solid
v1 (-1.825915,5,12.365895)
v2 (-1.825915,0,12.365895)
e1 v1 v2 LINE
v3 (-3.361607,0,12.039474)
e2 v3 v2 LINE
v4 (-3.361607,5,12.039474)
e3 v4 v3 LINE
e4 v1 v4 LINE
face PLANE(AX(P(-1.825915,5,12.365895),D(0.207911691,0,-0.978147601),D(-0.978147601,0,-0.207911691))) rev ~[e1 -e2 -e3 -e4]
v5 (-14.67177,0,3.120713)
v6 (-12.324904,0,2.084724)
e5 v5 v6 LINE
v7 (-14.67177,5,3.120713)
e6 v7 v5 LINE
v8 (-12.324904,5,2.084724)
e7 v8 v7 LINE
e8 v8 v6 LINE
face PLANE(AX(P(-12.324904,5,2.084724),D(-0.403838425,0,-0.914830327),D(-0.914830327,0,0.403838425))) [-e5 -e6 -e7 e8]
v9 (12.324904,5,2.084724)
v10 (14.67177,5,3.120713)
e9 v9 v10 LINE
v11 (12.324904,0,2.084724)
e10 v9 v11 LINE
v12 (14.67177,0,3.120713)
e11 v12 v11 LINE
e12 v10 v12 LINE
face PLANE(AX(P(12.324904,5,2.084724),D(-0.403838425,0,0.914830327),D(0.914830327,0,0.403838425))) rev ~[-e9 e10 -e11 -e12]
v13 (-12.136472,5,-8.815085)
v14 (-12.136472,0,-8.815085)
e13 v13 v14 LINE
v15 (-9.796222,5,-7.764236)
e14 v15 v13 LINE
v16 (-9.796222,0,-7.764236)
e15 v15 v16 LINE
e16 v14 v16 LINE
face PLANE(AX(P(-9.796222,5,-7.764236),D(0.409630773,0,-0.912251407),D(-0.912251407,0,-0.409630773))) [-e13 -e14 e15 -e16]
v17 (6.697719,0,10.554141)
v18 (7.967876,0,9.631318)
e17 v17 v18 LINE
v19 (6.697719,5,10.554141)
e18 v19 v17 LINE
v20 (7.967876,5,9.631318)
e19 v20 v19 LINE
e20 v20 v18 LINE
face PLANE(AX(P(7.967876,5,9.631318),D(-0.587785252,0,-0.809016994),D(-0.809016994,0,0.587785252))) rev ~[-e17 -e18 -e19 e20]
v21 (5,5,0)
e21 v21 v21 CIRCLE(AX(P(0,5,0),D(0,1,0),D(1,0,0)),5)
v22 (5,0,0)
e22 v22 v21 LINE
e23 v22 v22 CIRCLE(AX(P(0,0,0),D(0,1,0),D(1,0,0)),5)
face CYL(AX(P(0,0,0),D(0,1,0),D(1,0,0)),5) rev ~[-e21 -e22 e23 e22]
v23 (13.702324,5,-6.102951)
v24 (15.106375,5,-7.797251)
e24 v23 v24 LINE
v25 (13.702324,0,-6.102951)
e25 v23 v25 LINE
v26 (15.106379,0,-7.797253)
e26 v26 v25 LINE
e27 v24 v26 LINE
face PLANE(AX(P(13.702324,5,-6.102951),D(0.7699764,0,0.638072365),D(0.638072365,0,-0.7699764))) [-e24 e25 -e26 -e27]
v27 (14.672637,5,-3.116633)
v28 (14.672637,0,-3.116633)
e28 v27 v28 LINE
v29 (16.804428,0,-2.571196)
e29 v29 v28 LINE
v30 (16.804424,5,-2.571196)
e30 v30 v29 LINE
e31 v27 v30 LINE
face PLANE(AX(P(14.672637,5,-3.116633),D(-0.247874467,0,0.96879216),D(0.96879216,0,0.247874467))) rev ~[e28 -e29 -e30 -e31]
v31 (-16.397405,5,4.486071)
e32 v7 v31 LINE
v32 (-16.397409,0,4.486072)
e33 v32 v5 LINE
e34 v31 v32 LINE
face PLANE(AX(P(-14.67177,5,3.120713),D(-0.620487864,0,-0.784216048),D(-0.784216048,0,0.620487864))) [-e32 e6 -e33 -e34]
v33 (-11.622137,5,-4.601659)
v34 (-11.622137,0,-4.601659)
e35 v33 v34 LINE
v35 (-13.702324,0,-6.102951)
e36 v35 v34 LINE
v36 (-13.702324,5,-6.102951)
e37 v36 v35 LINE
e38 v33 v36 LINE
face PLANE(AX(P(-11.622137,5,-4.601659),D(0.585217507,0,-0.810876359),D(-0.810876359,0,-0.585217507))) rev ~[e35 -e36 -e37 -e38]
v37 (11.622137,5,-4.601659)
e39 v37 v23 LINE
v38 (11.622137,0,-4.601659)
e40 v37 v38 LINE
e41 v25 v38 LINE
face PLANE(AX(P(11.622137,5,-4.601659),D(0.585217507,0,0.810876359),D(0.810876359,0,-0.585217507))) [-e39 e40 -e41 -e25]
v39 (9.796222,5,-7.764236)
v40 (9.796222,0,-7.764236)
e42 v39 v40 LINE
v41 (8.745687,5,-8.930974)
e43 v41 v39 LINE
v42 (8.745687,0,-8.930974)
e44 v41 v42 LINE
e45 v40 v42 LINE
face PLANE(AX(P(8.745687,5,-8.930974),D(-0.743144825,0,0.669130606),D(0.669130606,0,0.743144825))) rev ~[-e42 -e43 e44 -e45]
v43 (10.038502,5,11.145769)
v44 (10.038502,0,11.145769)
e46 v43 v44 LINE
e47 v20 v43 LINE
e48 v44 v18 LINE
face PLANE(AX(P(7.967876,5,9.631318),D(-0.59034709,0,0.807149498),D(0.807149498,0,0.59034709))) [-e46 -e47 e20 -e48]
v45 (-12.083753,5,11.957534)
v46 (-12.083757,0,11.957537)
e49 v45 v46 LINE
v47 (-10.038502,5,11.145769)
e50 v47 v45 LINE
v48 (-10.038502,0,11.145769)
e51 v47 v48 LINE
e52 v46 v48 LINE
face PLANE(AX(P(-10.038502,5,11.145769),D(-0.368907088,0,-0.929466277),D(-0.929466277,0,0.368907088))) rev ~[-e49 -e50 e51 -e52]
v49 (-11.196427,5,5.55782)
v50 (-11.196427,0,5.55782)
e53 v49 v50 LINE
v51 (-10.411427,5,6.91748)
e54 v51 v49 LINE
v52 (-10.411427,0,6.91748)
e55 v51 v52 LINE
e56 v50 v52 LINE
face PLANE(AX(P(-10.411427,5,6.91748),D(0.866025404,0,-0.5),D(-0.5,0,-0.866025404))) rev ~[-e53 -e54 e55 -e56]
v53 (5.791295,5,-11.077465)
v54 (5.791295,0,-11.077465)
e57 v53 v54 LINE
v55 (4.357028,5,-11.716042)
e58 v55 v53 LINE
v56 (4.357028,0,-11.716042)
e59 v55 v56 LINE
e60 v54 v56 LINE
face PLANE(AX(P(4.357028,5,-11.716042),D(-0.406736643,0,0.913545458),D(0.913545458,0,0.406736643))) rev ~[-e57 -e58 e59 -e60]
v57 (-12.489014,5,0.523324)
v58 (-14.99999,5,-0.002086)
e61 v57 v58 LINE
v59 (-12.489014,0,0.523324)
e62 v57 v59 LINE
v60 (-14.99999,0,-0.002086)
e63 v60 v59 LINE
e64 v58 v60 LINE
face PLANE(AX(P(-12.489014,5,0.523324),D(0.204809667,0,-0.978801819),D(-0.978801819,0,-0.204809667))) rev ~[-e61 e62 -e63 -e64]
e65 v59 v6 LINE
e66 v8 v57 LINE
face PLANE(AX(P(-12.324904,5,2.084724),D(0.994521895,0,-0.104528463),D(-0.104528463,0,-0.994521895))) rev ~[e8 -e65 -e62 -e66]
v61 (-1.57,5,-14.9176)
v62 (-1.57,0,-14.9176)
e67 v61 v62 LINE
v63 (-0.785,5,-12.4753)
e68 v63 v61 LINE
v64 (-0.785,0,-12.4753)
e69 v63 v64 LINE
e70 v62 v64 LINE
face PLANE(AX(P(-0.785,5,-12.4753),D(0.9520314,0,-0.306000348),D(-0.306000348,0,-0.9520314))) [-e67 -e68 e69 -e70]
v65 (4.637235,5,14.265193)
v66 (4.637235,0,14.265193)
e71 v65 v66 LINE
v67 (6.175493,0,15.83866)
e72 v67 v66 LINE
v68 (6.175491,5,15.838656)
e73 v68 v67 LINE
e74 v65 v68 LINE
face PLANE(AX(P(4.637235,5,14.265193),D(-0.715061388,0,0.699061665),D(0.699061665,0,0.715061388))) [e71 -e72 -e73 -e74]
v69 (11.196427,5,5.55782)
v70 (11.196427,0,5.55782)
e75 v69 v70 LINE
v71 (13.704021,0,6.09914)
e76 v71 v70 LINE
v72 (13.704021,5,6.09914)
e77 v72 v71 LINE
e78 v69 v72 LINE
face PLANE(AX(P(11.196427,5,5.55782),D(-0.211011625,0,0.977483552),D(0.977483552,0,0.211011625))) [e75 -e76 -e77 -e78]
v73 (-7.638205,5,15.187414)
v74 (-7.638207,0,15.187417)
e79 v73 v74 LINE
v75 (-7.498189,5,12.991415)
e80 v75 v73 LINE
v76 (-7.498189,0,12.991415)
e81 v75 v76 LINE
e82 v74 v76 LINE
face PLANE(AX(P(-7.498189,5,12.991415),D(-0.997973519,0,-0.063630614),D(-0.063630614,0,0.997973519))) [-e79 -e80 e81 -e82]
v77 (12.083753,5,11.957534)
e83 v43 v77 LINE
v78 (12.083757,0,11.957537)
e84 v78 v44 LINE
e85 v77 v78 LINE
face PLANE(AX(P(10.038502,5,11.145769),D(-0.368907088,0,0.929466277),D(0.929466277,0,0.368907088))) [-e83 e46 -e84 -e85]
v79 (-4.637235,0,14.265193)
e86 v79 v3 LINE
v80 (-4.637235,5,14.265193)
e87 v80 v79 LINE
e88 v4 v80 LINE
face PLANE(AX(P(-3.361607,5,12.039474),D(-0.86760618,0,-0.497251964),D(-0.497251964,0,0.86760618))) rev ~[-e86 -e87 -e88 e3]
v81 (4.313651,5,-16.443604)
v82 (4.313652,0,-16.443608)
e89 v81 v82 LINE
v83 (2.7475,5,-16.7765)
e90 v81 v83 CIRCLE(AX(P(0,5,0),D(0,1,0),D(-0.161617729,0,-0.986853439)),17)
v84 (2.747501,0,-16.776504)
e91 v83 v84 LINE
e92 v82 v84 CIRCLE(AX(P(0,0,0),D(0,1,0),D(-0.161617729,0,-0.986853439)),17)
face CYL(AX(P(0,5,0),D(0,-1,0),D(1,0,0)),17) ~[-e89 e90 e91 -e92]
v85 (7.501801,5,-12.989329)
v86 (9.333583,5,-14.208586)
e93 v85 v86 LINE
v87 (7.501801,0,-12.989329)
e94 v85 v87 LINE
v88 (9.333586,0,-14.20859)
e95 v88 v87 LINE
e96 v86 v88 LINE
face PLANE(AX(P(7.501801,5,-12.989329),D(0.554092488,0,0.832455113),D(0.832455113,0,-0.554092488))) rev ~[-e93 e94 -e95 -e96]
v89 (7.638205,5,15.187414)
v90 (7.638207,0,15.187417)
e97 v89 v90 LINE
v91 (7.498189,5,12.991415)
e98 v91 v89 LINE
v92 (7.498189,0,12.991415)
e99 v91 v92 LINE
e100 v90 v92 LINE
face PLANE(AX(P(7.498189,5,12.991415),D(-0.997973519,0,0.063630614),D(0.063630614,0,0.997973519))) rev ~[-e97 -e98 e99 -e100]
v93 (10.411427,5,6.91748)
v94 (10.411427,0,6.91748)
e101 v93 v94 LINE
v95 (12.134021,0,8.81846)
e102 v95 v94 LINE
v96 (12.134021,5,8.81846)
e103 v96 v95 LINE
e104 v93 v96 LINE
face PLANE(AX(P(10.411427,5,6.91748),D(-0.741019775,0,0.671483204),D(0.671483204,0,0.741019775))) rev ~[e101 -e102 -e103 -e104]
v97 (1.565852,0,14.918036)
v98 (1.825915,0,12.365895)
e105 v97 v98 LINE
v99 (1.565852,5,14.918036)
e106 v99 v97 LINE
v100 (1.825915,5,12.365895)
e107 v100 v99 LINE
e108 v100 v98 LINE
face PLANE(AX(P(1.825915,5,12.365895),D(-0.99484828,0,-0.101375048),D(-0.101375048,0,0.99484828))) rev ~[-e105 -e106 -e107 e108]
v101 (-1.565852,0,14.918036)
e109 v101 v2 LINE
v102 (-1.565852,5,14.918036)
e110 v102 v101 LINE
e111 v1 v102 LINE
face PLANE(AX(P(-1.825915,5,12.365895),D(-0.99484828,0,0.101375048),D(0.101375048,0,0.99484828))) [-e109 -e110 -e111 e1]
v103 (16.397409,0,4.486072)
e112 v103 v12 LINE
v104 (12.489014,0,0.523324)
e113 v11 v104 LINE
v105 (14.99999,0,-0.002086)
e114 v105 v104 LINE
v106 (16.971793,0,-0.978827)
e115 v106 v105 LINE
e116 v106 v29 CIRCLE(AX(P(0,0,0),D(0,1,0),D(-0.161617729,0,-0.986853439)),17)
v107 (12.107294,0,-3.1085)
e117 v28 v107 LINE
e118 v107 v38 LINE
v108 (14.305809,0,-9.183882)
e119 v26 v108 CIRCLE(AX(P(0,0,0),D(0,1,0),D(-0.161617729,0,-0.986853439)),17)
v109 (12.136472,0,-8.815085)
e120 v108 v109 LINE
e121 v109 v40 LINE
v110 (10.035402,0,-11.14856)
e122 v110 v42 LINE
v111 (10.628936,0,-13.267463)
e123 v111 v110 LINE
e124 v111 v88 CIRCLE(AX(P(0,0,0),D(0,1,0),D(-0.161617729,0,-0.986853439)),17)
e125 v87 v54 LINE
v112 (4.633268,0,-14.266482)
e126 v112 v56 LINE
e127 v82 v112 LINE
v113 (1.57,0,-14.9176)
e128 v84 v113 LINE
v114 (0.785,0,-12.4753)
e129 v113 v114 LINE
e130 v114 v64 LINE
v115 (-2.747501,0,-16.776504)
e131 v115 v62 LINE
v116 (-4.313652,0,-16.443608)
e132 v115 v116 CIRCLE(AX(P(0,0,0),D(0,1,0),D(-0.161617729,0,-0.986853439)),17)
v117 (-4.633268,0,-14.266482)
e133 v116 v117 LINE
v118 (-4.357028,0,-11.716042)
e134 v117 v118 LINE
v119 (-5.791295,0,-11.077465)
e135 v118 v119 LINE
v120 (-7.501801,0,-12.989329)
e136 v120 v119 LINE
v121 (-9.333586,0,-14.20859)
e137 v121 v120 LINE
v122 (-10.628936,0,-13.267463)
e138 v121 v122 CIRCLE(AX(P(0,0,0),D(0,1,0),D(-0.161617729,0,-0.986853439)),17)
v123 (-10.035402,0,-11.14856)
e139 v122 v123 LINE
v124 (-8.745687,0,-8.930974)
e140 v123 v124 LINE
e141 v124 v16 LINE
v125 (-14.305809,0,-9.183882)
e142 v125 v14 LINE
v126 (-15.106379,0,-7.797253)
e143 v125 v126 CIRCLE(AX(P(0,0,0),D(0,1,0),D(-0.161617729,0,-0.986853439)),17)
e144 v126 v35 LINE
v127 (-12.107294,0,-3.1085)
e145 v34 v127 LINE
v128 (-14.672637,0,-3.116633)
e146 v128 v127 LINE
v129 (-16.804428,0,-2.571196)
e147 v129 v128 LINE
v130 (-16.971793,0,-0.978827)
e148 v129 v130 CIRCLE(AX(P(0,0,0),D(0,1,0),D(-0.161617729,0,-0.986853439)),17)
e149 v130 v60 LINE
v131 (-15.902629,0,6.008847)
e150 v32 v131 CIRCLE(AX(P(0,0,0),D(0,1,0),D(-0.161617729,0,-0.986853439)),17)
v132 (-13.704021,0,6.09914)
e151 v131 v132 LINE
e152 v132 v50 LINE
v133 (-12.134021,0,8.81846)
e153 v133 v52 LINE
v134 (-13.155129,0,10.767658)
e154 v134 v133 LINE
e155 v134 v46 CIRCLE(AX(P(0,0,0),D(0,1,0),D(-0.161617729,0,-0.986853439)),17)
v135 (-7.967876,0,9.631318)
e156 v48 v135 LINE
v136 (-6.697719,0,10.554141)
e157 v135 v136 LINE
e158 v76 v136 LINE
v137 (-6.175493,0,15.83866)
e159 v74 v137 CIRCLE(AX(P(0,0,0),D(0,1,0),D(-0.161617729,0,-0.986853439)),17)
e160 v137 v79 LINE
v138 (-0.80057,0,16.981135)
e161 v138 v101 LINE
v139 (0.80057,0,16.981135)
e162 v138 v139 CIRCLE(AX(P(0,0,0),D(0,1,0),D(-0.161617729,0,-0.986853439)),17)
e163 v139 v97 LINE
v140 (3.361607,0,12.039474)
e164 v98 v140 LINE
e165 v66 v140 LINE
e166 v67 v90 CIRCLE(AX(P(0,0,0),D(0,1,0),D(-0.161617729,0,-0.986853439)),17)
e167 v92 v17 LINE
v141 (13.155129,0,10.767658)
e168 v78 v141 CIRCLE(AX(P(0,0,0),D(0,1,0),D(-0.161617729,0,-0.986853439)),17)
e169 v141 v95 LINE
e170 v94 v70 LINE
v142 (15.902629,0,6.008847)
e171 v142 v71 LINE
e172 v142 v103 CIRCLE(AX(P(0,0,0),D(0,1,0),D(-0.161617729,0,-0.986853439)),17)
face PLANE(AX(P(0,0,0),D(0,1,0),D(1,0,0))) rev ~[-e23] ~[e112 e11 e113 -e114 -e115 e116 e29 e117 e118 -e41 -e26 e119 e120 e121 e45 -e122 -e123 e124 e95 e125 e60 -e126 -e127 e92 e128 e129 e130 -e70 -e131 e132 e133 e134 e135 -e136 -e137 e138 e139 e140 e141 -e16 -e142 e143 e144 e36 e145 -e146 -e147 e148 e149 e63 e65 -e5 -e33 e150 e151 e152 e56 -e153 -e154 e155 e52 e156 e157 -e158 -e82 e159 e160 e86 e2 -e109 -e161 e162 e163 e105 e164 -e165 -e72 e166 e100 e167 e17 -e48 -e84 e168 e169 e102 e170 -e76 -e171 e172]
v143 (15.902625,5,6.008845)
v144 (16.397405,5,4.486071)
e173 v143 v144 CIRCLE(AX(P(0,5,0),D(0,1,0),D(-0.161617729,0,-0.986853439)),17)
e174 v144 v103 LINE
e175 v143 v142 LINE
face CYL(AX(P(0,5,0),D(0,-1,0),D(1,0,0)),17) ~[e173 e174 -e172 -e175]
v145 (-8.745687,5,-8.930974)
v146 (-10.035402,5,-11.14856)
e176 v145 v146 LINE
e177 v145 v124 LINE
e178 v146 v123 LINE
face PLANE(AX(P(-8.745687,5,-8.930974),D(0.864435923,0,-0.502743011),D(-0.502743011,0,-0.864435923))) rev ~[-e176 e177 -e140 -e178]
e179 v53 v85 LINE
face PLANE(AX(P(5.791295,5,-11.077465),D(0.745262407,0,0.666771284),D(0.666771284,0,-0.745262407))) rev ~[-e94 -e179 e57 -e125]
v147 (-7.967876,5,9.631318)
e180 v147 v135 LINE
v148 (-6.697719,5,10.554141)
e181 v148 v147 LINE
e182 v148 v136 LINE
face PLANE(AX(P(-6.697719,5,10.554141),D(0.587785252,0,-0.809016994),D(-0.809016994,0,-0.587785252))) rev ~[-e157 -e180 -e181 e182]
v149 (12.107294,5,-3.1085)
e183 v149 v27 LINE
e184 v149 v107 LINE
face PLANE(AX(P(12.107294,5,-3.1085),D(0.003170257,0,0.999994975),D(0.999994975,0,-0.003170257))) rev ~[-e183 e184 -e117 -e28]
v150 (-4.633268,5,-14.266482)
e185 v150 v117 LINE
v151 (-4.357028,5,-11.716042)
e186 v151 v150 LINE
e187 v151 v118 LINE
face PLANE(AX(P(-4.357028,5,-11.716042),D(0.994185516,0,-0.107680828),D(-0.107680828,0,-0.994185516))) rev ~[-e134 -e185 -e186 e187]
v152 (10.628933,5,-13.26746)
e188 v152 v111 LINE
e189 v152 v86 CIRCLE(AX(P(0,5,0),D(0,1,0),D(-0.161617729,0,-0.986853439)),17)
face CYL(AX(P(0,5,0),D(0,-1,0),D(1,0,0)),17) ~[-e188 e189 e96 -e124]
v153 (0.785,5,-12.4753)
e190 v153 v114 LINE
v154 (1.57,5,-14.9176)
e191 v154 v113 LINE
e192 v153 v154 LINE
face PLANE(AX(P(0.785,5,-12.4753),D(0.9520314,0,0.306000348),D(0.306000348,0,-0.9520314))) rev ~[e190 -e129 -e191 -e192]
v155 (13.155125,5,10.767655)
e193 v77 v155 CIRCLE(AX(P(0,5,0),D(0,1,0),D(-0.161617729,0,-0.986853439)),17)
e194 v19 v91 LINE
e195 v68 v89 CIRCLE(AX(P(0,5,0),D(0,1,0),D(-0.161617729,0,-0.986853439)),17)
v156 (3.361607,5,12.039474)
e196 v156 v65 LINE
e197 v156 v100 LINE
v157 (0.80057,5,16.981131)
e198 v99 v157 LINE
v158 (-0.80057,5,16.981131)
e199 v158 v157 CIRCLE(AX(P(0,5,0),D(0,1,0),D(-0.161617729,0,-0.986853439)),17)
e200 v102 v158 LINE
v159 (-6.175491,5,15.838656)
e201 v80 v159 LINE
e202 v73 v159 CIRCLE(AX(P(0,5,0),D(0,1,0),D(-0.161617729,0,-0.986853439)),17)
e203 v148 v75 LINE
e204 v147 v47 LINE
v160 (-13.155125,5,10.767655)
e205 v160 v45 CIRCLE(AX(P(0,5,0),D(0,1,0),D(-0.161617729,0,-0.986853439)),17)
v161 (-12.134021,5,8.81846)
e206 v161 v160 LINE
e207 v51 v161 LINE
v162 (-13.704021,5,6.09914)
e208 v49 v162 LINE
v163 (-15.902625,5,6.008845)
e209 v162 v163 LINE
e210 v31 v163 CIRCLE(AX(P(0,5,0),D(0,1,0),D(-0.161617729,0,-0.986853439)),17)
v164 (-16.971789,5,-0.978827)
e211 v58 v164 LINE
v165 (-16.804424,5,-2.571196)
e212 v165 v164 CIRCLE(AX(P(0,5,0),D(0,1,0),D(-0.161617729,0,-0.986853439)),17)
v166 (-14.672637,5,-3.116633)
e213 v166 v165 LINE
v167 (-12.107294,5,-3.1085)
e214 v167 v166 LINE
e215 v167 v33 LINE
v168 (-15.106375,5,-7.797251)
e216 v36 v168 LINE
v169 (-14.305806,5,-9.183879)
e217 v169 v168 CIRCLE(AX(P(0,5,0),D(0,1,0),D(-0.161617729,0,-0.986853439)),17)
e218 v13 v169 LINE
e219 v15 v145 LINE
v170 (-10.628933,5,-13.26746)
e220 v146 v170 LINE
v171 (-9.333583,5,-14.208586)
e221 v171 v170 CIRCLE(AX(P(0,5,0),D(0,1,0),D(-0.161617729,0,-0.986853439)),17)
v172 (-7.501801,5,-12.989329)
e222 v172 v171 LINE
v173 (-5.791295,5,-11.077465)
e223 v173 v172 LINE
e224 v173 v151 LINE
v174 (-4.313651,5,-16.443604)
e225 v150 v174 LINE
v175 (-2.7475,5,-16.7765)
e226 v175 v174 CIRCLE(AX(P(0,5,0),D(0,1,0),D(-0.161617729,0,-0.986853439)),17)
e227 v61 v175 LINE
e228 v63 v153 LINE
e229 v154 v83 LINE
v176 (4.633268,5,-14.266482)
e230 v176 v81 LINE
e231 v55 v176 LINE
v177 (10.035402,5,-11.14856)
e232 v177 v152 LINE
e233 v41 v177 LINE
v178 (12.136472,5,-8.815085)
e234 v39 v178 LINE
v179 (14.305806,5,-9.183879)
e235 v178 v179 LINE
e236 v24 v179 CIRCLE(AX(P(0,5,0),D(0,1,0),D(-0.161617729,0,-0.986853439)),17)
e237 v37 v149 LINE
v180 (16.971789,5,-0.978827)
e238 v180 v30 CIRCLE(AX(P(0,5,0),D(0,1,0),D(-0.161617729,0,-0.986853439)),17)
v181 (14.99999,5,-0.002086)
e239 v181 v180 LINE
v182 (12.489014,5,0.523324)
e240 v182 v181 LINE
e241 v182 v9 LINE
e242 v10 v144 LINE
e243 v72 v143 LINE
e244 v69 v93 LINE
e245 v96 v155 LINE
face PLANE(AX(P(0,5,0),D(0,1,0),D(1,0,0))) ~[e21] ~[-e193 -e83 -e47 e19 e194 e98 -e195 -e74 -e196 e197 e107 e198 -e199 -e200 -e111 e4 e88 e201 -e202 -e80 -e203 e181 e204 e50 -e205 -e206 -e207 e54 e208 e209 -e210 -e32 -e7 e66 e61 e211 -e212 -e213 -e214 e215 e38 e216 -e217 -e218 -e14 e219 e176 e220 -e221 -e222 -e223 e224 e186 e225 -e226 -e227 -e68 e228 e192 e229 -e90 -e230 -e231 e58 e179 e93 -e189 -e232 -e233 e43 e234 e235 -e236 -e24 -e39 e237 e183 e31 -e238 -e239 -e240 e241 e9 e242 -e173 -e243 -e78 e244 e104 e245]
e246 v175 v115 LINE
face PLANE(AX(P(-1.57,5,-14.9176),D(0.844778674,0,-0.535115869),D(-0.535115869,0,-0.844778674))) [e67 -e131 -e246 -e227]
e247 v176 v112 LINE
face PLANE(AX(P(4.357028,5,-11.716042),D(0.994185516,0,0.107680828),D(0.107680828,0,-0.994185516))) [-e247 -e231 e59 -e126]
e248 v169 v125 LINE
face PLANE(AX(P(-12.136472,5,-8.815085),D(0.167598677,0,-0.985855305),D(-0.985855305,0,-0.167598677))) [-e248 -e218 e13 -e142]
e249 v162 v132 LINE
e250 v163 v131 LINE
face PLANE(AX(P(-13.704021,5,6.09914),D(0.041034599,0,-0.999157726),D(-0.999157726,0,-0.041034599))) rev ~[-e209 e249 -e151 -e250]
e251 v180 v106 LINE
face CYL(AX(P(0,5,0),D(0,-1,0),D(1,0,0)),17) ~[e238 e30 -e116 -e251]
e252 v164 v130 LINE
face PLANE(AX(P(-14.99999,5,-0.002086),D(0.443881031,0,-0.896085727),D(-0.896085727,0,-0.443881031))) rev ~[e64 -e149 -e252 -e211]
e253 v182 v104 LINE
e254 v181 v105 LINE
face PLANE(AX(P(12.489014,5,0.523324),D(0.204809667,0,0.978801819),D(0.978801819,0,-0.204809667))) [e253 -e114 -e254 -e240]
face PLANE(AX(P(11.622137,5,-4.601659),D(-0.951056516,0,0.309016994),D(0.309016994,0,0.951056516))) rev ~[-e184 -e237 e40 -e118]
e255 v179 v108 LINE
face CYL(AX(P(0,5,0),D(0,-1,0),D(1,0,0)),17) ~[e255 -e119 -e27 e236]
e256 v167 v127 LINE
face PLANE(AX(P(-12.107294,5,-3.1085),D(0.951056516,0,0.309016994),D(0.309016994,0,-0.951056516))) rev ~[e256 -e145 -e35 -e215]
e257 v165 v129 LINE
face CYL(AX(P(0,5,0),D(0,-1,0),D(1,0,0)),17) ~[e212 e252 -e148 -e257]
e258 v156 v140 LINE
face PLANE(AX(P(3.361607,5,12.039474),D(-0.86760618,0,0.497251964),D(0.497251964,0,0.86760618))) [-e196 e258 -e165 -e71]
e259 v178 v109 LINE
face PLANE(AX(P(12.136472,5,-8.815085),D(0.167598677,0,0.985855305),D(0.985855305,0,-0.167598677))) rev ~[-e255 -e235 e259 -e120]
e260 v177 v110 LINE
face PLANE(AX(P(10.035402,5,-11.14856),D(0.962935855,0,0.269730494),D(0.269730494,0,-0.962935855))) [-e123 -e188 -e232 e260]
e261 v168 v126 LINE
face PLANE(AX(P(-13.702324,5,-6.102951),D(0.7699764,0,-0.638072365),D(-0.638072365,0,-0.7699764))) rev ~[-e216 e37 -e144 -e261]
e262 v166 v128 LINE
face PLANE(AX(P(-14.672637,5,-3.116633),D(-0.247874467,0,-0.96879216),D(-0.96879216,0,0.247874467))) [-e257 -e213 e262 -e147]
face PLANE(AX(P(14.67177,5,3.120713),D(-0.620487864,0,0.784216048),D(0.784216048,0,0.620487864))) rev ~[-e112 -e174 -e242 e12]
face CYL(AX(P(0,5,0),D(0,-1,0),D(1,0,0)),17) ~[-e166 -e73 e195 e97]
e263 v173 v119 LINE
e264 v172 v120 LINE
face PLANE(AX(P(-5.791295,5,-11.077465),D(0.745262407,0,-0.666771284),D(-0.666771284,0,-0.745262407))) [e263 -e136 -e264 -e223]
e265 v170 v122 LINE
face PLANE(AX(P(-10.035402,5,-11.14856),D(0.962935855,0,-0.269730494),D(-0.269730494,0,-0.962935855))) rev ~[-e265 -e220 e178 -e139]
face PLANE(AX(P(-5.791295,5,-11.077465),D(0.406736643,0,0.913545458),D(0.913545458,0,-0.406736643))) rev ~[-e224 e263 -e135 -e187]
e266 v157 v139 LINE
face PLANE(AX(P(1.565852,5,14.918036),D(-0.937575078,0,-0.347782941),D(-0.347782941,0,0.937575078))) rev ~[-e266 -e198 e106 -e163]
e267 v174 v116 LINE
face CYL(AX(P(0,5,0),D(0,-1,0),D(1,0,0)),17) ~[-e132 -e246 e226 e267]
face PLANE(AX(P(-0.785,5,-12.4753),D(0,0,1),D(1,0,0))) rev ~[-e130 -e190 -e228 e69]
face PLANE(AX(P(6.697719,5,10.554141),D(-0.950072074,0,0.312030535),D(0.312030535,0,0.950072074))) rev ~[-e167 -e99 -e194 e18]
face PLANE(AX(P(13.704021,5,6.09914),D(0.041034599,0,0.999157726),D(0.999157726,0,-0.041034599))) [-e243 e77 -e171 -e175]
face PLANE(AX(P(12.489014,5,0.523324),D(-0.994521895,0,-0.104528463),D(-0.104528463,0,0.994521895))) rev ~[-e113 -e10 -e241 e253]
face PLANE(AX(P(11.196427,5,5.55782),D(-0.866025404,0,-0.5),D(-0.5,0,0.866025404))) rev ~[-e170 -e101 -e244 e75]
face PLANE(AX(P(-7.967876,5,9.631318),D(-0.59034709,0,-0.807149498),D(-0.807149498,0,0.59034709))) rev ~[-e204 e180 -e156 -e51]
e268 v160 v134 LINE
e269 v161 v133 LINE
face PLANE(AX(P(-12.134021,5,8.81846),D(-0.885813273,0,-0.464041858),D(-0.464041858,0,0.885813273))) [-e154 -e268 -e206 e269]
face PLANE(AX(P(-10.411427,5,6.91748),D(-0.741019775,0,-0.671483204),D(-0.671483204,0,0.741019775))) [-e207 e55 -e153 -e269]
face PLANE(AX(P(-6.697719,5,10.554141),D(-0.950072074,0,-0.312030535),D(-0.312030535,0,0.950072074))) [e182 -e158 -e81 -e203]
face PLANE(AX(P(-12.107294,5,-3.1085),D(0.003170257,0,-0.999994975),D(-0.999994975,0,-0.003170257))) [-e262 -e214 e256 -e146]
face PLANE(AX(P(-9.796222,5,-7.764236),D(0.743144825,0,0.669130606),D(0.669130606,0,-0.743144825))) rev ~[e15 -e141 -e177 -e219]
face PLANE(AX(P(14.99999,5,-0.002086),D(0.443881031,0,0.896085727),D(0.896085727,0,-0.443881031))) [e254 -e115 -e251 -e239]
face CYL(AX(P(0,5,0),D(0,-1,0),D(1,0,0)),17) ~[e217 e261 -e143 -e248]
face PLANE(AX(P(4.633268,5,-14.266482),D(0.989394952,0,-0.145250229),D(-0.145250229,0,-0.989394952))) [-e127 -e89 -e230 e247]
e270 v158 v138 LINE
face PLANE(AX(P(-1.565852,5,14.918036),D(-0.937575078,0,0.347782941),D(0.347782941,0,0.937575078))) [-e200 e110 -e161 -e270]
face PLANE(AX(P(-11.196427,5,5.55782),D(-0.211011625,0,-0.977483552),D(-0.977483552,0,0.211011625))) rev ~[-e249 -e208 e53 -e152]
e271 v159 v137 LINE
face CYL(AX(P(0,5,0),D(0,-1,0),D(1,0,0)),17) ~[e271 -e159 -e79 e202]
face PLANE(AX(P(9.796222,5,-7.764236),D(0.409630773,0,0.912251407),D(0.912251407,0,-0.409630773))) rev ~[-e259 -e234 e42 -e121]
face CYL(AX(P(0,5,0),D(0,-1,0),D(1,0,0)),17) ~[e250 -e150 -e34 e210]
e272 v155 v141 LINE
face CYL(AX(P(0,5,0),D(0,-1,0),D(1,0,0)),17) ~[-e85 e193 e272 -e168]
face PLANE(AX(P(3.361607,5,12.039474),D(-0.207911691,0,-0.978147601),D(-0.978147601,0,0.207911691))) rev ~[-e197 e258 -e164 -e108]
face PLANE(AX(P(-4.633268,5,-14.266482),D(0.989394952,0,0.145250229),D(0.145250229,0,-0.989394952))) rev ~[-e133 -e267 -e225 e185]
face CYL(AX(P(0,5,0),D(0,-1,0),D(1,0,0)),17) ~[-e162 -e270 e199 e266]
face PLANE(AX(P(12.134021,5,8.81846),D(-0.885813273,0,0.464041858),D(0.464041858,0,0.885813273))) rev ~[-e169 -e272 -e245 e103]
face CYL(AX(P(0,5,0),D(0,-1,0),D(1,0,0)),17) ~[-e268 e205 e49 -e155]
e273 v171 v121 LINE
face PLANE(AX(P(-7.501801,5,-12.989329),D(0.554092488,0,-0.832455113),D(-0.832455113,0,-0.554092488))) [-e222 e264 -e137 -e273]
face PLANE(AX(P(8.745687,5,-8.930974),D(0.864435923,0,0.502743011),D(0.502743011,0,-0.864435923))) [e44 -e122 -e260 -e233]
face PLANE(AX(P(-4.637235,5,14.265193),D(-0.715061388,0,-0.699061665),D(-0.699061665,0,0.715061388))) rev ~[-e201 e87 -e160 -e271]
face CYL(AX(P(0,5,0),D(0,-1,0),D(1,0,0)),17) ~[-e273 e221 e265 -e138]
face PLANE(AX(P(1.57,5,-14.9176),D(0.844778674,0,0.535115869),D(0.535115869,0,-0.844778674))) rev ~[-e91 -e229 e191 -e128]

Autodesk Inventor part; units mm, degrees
ref_plane "YZ Plane" through (0, 0, 0) normal (1, 0, 0) x (0, 1, 0)
ref_plane "XZ Plane" through (0, 0, 0) normal (0, 1, 0) x (-1, 0, 0)
ref_plane "XY Plane" through (0, 0, 0) normal (0, 0, 1) x (1, 0, 0)
sketch "Эскиз1" plane through (0, 0, 0) normal (0, 0, 1) x (1, 0, 0)
  line L0 (0, 0) -> (0, 5)
  line L1 (5, 5) -> (17, 5)
  line L2 (17, 5) -> (17, 0)
  line L3 (17, 0) -> (5, 0)
  line L4 (5, 0) -> (5, 5)
  dimension "d0" = 5
  dimension "d1" = 34
  dimension "d2" = 10
  dimension "d3" = 5
revolve "Вращение1" add sketch "Эскиз1" angle 360 about axis through (0, 0, 0) along (0, 1, 0)
sketch "Эскиз2" plane through (0, 5, 0) normal (0, 1, 0) x (1, 0, 0)
  circle A0 centre (0, 0) radius 12.5 construction
  circle A1 centre (0, 0) radius 15 construction
  circle A2 centre (0, 0) radius 17 projected
  line L0 (-0.785, 12.4753) -> (0.785, 12.4753)
  line L1 (-0.785, 12.4753) -> (-1.57, 14.9176)
  line L2 (0.785, 12.4753) -> (1.57, 14.9176)
  line L3 (-1.57, 14.9176) -> (-2.7475, 16.7765)
  line L4 (1.57, 14.9176) -> (2.7475, 16.7765)
  dimension "d5" = 25
  dimension "d6" = 30
  dimension "d7" = 1.57
  dimension "d8" = 3.14
  dimension "d15" = 5.495
extrude "Выдавливание1" cut sketch "Эскиз2" against normal up to next contours L4 L2 L0 L1 L3 A2 picked at (-0.2617, 14.1035)
pattern_circular "Круговой массив1" count 15 over 360 about axis through (0, -10, 0) along (0, 1, 0) of "Выдавливание1"
properties part number "Шестерня"
